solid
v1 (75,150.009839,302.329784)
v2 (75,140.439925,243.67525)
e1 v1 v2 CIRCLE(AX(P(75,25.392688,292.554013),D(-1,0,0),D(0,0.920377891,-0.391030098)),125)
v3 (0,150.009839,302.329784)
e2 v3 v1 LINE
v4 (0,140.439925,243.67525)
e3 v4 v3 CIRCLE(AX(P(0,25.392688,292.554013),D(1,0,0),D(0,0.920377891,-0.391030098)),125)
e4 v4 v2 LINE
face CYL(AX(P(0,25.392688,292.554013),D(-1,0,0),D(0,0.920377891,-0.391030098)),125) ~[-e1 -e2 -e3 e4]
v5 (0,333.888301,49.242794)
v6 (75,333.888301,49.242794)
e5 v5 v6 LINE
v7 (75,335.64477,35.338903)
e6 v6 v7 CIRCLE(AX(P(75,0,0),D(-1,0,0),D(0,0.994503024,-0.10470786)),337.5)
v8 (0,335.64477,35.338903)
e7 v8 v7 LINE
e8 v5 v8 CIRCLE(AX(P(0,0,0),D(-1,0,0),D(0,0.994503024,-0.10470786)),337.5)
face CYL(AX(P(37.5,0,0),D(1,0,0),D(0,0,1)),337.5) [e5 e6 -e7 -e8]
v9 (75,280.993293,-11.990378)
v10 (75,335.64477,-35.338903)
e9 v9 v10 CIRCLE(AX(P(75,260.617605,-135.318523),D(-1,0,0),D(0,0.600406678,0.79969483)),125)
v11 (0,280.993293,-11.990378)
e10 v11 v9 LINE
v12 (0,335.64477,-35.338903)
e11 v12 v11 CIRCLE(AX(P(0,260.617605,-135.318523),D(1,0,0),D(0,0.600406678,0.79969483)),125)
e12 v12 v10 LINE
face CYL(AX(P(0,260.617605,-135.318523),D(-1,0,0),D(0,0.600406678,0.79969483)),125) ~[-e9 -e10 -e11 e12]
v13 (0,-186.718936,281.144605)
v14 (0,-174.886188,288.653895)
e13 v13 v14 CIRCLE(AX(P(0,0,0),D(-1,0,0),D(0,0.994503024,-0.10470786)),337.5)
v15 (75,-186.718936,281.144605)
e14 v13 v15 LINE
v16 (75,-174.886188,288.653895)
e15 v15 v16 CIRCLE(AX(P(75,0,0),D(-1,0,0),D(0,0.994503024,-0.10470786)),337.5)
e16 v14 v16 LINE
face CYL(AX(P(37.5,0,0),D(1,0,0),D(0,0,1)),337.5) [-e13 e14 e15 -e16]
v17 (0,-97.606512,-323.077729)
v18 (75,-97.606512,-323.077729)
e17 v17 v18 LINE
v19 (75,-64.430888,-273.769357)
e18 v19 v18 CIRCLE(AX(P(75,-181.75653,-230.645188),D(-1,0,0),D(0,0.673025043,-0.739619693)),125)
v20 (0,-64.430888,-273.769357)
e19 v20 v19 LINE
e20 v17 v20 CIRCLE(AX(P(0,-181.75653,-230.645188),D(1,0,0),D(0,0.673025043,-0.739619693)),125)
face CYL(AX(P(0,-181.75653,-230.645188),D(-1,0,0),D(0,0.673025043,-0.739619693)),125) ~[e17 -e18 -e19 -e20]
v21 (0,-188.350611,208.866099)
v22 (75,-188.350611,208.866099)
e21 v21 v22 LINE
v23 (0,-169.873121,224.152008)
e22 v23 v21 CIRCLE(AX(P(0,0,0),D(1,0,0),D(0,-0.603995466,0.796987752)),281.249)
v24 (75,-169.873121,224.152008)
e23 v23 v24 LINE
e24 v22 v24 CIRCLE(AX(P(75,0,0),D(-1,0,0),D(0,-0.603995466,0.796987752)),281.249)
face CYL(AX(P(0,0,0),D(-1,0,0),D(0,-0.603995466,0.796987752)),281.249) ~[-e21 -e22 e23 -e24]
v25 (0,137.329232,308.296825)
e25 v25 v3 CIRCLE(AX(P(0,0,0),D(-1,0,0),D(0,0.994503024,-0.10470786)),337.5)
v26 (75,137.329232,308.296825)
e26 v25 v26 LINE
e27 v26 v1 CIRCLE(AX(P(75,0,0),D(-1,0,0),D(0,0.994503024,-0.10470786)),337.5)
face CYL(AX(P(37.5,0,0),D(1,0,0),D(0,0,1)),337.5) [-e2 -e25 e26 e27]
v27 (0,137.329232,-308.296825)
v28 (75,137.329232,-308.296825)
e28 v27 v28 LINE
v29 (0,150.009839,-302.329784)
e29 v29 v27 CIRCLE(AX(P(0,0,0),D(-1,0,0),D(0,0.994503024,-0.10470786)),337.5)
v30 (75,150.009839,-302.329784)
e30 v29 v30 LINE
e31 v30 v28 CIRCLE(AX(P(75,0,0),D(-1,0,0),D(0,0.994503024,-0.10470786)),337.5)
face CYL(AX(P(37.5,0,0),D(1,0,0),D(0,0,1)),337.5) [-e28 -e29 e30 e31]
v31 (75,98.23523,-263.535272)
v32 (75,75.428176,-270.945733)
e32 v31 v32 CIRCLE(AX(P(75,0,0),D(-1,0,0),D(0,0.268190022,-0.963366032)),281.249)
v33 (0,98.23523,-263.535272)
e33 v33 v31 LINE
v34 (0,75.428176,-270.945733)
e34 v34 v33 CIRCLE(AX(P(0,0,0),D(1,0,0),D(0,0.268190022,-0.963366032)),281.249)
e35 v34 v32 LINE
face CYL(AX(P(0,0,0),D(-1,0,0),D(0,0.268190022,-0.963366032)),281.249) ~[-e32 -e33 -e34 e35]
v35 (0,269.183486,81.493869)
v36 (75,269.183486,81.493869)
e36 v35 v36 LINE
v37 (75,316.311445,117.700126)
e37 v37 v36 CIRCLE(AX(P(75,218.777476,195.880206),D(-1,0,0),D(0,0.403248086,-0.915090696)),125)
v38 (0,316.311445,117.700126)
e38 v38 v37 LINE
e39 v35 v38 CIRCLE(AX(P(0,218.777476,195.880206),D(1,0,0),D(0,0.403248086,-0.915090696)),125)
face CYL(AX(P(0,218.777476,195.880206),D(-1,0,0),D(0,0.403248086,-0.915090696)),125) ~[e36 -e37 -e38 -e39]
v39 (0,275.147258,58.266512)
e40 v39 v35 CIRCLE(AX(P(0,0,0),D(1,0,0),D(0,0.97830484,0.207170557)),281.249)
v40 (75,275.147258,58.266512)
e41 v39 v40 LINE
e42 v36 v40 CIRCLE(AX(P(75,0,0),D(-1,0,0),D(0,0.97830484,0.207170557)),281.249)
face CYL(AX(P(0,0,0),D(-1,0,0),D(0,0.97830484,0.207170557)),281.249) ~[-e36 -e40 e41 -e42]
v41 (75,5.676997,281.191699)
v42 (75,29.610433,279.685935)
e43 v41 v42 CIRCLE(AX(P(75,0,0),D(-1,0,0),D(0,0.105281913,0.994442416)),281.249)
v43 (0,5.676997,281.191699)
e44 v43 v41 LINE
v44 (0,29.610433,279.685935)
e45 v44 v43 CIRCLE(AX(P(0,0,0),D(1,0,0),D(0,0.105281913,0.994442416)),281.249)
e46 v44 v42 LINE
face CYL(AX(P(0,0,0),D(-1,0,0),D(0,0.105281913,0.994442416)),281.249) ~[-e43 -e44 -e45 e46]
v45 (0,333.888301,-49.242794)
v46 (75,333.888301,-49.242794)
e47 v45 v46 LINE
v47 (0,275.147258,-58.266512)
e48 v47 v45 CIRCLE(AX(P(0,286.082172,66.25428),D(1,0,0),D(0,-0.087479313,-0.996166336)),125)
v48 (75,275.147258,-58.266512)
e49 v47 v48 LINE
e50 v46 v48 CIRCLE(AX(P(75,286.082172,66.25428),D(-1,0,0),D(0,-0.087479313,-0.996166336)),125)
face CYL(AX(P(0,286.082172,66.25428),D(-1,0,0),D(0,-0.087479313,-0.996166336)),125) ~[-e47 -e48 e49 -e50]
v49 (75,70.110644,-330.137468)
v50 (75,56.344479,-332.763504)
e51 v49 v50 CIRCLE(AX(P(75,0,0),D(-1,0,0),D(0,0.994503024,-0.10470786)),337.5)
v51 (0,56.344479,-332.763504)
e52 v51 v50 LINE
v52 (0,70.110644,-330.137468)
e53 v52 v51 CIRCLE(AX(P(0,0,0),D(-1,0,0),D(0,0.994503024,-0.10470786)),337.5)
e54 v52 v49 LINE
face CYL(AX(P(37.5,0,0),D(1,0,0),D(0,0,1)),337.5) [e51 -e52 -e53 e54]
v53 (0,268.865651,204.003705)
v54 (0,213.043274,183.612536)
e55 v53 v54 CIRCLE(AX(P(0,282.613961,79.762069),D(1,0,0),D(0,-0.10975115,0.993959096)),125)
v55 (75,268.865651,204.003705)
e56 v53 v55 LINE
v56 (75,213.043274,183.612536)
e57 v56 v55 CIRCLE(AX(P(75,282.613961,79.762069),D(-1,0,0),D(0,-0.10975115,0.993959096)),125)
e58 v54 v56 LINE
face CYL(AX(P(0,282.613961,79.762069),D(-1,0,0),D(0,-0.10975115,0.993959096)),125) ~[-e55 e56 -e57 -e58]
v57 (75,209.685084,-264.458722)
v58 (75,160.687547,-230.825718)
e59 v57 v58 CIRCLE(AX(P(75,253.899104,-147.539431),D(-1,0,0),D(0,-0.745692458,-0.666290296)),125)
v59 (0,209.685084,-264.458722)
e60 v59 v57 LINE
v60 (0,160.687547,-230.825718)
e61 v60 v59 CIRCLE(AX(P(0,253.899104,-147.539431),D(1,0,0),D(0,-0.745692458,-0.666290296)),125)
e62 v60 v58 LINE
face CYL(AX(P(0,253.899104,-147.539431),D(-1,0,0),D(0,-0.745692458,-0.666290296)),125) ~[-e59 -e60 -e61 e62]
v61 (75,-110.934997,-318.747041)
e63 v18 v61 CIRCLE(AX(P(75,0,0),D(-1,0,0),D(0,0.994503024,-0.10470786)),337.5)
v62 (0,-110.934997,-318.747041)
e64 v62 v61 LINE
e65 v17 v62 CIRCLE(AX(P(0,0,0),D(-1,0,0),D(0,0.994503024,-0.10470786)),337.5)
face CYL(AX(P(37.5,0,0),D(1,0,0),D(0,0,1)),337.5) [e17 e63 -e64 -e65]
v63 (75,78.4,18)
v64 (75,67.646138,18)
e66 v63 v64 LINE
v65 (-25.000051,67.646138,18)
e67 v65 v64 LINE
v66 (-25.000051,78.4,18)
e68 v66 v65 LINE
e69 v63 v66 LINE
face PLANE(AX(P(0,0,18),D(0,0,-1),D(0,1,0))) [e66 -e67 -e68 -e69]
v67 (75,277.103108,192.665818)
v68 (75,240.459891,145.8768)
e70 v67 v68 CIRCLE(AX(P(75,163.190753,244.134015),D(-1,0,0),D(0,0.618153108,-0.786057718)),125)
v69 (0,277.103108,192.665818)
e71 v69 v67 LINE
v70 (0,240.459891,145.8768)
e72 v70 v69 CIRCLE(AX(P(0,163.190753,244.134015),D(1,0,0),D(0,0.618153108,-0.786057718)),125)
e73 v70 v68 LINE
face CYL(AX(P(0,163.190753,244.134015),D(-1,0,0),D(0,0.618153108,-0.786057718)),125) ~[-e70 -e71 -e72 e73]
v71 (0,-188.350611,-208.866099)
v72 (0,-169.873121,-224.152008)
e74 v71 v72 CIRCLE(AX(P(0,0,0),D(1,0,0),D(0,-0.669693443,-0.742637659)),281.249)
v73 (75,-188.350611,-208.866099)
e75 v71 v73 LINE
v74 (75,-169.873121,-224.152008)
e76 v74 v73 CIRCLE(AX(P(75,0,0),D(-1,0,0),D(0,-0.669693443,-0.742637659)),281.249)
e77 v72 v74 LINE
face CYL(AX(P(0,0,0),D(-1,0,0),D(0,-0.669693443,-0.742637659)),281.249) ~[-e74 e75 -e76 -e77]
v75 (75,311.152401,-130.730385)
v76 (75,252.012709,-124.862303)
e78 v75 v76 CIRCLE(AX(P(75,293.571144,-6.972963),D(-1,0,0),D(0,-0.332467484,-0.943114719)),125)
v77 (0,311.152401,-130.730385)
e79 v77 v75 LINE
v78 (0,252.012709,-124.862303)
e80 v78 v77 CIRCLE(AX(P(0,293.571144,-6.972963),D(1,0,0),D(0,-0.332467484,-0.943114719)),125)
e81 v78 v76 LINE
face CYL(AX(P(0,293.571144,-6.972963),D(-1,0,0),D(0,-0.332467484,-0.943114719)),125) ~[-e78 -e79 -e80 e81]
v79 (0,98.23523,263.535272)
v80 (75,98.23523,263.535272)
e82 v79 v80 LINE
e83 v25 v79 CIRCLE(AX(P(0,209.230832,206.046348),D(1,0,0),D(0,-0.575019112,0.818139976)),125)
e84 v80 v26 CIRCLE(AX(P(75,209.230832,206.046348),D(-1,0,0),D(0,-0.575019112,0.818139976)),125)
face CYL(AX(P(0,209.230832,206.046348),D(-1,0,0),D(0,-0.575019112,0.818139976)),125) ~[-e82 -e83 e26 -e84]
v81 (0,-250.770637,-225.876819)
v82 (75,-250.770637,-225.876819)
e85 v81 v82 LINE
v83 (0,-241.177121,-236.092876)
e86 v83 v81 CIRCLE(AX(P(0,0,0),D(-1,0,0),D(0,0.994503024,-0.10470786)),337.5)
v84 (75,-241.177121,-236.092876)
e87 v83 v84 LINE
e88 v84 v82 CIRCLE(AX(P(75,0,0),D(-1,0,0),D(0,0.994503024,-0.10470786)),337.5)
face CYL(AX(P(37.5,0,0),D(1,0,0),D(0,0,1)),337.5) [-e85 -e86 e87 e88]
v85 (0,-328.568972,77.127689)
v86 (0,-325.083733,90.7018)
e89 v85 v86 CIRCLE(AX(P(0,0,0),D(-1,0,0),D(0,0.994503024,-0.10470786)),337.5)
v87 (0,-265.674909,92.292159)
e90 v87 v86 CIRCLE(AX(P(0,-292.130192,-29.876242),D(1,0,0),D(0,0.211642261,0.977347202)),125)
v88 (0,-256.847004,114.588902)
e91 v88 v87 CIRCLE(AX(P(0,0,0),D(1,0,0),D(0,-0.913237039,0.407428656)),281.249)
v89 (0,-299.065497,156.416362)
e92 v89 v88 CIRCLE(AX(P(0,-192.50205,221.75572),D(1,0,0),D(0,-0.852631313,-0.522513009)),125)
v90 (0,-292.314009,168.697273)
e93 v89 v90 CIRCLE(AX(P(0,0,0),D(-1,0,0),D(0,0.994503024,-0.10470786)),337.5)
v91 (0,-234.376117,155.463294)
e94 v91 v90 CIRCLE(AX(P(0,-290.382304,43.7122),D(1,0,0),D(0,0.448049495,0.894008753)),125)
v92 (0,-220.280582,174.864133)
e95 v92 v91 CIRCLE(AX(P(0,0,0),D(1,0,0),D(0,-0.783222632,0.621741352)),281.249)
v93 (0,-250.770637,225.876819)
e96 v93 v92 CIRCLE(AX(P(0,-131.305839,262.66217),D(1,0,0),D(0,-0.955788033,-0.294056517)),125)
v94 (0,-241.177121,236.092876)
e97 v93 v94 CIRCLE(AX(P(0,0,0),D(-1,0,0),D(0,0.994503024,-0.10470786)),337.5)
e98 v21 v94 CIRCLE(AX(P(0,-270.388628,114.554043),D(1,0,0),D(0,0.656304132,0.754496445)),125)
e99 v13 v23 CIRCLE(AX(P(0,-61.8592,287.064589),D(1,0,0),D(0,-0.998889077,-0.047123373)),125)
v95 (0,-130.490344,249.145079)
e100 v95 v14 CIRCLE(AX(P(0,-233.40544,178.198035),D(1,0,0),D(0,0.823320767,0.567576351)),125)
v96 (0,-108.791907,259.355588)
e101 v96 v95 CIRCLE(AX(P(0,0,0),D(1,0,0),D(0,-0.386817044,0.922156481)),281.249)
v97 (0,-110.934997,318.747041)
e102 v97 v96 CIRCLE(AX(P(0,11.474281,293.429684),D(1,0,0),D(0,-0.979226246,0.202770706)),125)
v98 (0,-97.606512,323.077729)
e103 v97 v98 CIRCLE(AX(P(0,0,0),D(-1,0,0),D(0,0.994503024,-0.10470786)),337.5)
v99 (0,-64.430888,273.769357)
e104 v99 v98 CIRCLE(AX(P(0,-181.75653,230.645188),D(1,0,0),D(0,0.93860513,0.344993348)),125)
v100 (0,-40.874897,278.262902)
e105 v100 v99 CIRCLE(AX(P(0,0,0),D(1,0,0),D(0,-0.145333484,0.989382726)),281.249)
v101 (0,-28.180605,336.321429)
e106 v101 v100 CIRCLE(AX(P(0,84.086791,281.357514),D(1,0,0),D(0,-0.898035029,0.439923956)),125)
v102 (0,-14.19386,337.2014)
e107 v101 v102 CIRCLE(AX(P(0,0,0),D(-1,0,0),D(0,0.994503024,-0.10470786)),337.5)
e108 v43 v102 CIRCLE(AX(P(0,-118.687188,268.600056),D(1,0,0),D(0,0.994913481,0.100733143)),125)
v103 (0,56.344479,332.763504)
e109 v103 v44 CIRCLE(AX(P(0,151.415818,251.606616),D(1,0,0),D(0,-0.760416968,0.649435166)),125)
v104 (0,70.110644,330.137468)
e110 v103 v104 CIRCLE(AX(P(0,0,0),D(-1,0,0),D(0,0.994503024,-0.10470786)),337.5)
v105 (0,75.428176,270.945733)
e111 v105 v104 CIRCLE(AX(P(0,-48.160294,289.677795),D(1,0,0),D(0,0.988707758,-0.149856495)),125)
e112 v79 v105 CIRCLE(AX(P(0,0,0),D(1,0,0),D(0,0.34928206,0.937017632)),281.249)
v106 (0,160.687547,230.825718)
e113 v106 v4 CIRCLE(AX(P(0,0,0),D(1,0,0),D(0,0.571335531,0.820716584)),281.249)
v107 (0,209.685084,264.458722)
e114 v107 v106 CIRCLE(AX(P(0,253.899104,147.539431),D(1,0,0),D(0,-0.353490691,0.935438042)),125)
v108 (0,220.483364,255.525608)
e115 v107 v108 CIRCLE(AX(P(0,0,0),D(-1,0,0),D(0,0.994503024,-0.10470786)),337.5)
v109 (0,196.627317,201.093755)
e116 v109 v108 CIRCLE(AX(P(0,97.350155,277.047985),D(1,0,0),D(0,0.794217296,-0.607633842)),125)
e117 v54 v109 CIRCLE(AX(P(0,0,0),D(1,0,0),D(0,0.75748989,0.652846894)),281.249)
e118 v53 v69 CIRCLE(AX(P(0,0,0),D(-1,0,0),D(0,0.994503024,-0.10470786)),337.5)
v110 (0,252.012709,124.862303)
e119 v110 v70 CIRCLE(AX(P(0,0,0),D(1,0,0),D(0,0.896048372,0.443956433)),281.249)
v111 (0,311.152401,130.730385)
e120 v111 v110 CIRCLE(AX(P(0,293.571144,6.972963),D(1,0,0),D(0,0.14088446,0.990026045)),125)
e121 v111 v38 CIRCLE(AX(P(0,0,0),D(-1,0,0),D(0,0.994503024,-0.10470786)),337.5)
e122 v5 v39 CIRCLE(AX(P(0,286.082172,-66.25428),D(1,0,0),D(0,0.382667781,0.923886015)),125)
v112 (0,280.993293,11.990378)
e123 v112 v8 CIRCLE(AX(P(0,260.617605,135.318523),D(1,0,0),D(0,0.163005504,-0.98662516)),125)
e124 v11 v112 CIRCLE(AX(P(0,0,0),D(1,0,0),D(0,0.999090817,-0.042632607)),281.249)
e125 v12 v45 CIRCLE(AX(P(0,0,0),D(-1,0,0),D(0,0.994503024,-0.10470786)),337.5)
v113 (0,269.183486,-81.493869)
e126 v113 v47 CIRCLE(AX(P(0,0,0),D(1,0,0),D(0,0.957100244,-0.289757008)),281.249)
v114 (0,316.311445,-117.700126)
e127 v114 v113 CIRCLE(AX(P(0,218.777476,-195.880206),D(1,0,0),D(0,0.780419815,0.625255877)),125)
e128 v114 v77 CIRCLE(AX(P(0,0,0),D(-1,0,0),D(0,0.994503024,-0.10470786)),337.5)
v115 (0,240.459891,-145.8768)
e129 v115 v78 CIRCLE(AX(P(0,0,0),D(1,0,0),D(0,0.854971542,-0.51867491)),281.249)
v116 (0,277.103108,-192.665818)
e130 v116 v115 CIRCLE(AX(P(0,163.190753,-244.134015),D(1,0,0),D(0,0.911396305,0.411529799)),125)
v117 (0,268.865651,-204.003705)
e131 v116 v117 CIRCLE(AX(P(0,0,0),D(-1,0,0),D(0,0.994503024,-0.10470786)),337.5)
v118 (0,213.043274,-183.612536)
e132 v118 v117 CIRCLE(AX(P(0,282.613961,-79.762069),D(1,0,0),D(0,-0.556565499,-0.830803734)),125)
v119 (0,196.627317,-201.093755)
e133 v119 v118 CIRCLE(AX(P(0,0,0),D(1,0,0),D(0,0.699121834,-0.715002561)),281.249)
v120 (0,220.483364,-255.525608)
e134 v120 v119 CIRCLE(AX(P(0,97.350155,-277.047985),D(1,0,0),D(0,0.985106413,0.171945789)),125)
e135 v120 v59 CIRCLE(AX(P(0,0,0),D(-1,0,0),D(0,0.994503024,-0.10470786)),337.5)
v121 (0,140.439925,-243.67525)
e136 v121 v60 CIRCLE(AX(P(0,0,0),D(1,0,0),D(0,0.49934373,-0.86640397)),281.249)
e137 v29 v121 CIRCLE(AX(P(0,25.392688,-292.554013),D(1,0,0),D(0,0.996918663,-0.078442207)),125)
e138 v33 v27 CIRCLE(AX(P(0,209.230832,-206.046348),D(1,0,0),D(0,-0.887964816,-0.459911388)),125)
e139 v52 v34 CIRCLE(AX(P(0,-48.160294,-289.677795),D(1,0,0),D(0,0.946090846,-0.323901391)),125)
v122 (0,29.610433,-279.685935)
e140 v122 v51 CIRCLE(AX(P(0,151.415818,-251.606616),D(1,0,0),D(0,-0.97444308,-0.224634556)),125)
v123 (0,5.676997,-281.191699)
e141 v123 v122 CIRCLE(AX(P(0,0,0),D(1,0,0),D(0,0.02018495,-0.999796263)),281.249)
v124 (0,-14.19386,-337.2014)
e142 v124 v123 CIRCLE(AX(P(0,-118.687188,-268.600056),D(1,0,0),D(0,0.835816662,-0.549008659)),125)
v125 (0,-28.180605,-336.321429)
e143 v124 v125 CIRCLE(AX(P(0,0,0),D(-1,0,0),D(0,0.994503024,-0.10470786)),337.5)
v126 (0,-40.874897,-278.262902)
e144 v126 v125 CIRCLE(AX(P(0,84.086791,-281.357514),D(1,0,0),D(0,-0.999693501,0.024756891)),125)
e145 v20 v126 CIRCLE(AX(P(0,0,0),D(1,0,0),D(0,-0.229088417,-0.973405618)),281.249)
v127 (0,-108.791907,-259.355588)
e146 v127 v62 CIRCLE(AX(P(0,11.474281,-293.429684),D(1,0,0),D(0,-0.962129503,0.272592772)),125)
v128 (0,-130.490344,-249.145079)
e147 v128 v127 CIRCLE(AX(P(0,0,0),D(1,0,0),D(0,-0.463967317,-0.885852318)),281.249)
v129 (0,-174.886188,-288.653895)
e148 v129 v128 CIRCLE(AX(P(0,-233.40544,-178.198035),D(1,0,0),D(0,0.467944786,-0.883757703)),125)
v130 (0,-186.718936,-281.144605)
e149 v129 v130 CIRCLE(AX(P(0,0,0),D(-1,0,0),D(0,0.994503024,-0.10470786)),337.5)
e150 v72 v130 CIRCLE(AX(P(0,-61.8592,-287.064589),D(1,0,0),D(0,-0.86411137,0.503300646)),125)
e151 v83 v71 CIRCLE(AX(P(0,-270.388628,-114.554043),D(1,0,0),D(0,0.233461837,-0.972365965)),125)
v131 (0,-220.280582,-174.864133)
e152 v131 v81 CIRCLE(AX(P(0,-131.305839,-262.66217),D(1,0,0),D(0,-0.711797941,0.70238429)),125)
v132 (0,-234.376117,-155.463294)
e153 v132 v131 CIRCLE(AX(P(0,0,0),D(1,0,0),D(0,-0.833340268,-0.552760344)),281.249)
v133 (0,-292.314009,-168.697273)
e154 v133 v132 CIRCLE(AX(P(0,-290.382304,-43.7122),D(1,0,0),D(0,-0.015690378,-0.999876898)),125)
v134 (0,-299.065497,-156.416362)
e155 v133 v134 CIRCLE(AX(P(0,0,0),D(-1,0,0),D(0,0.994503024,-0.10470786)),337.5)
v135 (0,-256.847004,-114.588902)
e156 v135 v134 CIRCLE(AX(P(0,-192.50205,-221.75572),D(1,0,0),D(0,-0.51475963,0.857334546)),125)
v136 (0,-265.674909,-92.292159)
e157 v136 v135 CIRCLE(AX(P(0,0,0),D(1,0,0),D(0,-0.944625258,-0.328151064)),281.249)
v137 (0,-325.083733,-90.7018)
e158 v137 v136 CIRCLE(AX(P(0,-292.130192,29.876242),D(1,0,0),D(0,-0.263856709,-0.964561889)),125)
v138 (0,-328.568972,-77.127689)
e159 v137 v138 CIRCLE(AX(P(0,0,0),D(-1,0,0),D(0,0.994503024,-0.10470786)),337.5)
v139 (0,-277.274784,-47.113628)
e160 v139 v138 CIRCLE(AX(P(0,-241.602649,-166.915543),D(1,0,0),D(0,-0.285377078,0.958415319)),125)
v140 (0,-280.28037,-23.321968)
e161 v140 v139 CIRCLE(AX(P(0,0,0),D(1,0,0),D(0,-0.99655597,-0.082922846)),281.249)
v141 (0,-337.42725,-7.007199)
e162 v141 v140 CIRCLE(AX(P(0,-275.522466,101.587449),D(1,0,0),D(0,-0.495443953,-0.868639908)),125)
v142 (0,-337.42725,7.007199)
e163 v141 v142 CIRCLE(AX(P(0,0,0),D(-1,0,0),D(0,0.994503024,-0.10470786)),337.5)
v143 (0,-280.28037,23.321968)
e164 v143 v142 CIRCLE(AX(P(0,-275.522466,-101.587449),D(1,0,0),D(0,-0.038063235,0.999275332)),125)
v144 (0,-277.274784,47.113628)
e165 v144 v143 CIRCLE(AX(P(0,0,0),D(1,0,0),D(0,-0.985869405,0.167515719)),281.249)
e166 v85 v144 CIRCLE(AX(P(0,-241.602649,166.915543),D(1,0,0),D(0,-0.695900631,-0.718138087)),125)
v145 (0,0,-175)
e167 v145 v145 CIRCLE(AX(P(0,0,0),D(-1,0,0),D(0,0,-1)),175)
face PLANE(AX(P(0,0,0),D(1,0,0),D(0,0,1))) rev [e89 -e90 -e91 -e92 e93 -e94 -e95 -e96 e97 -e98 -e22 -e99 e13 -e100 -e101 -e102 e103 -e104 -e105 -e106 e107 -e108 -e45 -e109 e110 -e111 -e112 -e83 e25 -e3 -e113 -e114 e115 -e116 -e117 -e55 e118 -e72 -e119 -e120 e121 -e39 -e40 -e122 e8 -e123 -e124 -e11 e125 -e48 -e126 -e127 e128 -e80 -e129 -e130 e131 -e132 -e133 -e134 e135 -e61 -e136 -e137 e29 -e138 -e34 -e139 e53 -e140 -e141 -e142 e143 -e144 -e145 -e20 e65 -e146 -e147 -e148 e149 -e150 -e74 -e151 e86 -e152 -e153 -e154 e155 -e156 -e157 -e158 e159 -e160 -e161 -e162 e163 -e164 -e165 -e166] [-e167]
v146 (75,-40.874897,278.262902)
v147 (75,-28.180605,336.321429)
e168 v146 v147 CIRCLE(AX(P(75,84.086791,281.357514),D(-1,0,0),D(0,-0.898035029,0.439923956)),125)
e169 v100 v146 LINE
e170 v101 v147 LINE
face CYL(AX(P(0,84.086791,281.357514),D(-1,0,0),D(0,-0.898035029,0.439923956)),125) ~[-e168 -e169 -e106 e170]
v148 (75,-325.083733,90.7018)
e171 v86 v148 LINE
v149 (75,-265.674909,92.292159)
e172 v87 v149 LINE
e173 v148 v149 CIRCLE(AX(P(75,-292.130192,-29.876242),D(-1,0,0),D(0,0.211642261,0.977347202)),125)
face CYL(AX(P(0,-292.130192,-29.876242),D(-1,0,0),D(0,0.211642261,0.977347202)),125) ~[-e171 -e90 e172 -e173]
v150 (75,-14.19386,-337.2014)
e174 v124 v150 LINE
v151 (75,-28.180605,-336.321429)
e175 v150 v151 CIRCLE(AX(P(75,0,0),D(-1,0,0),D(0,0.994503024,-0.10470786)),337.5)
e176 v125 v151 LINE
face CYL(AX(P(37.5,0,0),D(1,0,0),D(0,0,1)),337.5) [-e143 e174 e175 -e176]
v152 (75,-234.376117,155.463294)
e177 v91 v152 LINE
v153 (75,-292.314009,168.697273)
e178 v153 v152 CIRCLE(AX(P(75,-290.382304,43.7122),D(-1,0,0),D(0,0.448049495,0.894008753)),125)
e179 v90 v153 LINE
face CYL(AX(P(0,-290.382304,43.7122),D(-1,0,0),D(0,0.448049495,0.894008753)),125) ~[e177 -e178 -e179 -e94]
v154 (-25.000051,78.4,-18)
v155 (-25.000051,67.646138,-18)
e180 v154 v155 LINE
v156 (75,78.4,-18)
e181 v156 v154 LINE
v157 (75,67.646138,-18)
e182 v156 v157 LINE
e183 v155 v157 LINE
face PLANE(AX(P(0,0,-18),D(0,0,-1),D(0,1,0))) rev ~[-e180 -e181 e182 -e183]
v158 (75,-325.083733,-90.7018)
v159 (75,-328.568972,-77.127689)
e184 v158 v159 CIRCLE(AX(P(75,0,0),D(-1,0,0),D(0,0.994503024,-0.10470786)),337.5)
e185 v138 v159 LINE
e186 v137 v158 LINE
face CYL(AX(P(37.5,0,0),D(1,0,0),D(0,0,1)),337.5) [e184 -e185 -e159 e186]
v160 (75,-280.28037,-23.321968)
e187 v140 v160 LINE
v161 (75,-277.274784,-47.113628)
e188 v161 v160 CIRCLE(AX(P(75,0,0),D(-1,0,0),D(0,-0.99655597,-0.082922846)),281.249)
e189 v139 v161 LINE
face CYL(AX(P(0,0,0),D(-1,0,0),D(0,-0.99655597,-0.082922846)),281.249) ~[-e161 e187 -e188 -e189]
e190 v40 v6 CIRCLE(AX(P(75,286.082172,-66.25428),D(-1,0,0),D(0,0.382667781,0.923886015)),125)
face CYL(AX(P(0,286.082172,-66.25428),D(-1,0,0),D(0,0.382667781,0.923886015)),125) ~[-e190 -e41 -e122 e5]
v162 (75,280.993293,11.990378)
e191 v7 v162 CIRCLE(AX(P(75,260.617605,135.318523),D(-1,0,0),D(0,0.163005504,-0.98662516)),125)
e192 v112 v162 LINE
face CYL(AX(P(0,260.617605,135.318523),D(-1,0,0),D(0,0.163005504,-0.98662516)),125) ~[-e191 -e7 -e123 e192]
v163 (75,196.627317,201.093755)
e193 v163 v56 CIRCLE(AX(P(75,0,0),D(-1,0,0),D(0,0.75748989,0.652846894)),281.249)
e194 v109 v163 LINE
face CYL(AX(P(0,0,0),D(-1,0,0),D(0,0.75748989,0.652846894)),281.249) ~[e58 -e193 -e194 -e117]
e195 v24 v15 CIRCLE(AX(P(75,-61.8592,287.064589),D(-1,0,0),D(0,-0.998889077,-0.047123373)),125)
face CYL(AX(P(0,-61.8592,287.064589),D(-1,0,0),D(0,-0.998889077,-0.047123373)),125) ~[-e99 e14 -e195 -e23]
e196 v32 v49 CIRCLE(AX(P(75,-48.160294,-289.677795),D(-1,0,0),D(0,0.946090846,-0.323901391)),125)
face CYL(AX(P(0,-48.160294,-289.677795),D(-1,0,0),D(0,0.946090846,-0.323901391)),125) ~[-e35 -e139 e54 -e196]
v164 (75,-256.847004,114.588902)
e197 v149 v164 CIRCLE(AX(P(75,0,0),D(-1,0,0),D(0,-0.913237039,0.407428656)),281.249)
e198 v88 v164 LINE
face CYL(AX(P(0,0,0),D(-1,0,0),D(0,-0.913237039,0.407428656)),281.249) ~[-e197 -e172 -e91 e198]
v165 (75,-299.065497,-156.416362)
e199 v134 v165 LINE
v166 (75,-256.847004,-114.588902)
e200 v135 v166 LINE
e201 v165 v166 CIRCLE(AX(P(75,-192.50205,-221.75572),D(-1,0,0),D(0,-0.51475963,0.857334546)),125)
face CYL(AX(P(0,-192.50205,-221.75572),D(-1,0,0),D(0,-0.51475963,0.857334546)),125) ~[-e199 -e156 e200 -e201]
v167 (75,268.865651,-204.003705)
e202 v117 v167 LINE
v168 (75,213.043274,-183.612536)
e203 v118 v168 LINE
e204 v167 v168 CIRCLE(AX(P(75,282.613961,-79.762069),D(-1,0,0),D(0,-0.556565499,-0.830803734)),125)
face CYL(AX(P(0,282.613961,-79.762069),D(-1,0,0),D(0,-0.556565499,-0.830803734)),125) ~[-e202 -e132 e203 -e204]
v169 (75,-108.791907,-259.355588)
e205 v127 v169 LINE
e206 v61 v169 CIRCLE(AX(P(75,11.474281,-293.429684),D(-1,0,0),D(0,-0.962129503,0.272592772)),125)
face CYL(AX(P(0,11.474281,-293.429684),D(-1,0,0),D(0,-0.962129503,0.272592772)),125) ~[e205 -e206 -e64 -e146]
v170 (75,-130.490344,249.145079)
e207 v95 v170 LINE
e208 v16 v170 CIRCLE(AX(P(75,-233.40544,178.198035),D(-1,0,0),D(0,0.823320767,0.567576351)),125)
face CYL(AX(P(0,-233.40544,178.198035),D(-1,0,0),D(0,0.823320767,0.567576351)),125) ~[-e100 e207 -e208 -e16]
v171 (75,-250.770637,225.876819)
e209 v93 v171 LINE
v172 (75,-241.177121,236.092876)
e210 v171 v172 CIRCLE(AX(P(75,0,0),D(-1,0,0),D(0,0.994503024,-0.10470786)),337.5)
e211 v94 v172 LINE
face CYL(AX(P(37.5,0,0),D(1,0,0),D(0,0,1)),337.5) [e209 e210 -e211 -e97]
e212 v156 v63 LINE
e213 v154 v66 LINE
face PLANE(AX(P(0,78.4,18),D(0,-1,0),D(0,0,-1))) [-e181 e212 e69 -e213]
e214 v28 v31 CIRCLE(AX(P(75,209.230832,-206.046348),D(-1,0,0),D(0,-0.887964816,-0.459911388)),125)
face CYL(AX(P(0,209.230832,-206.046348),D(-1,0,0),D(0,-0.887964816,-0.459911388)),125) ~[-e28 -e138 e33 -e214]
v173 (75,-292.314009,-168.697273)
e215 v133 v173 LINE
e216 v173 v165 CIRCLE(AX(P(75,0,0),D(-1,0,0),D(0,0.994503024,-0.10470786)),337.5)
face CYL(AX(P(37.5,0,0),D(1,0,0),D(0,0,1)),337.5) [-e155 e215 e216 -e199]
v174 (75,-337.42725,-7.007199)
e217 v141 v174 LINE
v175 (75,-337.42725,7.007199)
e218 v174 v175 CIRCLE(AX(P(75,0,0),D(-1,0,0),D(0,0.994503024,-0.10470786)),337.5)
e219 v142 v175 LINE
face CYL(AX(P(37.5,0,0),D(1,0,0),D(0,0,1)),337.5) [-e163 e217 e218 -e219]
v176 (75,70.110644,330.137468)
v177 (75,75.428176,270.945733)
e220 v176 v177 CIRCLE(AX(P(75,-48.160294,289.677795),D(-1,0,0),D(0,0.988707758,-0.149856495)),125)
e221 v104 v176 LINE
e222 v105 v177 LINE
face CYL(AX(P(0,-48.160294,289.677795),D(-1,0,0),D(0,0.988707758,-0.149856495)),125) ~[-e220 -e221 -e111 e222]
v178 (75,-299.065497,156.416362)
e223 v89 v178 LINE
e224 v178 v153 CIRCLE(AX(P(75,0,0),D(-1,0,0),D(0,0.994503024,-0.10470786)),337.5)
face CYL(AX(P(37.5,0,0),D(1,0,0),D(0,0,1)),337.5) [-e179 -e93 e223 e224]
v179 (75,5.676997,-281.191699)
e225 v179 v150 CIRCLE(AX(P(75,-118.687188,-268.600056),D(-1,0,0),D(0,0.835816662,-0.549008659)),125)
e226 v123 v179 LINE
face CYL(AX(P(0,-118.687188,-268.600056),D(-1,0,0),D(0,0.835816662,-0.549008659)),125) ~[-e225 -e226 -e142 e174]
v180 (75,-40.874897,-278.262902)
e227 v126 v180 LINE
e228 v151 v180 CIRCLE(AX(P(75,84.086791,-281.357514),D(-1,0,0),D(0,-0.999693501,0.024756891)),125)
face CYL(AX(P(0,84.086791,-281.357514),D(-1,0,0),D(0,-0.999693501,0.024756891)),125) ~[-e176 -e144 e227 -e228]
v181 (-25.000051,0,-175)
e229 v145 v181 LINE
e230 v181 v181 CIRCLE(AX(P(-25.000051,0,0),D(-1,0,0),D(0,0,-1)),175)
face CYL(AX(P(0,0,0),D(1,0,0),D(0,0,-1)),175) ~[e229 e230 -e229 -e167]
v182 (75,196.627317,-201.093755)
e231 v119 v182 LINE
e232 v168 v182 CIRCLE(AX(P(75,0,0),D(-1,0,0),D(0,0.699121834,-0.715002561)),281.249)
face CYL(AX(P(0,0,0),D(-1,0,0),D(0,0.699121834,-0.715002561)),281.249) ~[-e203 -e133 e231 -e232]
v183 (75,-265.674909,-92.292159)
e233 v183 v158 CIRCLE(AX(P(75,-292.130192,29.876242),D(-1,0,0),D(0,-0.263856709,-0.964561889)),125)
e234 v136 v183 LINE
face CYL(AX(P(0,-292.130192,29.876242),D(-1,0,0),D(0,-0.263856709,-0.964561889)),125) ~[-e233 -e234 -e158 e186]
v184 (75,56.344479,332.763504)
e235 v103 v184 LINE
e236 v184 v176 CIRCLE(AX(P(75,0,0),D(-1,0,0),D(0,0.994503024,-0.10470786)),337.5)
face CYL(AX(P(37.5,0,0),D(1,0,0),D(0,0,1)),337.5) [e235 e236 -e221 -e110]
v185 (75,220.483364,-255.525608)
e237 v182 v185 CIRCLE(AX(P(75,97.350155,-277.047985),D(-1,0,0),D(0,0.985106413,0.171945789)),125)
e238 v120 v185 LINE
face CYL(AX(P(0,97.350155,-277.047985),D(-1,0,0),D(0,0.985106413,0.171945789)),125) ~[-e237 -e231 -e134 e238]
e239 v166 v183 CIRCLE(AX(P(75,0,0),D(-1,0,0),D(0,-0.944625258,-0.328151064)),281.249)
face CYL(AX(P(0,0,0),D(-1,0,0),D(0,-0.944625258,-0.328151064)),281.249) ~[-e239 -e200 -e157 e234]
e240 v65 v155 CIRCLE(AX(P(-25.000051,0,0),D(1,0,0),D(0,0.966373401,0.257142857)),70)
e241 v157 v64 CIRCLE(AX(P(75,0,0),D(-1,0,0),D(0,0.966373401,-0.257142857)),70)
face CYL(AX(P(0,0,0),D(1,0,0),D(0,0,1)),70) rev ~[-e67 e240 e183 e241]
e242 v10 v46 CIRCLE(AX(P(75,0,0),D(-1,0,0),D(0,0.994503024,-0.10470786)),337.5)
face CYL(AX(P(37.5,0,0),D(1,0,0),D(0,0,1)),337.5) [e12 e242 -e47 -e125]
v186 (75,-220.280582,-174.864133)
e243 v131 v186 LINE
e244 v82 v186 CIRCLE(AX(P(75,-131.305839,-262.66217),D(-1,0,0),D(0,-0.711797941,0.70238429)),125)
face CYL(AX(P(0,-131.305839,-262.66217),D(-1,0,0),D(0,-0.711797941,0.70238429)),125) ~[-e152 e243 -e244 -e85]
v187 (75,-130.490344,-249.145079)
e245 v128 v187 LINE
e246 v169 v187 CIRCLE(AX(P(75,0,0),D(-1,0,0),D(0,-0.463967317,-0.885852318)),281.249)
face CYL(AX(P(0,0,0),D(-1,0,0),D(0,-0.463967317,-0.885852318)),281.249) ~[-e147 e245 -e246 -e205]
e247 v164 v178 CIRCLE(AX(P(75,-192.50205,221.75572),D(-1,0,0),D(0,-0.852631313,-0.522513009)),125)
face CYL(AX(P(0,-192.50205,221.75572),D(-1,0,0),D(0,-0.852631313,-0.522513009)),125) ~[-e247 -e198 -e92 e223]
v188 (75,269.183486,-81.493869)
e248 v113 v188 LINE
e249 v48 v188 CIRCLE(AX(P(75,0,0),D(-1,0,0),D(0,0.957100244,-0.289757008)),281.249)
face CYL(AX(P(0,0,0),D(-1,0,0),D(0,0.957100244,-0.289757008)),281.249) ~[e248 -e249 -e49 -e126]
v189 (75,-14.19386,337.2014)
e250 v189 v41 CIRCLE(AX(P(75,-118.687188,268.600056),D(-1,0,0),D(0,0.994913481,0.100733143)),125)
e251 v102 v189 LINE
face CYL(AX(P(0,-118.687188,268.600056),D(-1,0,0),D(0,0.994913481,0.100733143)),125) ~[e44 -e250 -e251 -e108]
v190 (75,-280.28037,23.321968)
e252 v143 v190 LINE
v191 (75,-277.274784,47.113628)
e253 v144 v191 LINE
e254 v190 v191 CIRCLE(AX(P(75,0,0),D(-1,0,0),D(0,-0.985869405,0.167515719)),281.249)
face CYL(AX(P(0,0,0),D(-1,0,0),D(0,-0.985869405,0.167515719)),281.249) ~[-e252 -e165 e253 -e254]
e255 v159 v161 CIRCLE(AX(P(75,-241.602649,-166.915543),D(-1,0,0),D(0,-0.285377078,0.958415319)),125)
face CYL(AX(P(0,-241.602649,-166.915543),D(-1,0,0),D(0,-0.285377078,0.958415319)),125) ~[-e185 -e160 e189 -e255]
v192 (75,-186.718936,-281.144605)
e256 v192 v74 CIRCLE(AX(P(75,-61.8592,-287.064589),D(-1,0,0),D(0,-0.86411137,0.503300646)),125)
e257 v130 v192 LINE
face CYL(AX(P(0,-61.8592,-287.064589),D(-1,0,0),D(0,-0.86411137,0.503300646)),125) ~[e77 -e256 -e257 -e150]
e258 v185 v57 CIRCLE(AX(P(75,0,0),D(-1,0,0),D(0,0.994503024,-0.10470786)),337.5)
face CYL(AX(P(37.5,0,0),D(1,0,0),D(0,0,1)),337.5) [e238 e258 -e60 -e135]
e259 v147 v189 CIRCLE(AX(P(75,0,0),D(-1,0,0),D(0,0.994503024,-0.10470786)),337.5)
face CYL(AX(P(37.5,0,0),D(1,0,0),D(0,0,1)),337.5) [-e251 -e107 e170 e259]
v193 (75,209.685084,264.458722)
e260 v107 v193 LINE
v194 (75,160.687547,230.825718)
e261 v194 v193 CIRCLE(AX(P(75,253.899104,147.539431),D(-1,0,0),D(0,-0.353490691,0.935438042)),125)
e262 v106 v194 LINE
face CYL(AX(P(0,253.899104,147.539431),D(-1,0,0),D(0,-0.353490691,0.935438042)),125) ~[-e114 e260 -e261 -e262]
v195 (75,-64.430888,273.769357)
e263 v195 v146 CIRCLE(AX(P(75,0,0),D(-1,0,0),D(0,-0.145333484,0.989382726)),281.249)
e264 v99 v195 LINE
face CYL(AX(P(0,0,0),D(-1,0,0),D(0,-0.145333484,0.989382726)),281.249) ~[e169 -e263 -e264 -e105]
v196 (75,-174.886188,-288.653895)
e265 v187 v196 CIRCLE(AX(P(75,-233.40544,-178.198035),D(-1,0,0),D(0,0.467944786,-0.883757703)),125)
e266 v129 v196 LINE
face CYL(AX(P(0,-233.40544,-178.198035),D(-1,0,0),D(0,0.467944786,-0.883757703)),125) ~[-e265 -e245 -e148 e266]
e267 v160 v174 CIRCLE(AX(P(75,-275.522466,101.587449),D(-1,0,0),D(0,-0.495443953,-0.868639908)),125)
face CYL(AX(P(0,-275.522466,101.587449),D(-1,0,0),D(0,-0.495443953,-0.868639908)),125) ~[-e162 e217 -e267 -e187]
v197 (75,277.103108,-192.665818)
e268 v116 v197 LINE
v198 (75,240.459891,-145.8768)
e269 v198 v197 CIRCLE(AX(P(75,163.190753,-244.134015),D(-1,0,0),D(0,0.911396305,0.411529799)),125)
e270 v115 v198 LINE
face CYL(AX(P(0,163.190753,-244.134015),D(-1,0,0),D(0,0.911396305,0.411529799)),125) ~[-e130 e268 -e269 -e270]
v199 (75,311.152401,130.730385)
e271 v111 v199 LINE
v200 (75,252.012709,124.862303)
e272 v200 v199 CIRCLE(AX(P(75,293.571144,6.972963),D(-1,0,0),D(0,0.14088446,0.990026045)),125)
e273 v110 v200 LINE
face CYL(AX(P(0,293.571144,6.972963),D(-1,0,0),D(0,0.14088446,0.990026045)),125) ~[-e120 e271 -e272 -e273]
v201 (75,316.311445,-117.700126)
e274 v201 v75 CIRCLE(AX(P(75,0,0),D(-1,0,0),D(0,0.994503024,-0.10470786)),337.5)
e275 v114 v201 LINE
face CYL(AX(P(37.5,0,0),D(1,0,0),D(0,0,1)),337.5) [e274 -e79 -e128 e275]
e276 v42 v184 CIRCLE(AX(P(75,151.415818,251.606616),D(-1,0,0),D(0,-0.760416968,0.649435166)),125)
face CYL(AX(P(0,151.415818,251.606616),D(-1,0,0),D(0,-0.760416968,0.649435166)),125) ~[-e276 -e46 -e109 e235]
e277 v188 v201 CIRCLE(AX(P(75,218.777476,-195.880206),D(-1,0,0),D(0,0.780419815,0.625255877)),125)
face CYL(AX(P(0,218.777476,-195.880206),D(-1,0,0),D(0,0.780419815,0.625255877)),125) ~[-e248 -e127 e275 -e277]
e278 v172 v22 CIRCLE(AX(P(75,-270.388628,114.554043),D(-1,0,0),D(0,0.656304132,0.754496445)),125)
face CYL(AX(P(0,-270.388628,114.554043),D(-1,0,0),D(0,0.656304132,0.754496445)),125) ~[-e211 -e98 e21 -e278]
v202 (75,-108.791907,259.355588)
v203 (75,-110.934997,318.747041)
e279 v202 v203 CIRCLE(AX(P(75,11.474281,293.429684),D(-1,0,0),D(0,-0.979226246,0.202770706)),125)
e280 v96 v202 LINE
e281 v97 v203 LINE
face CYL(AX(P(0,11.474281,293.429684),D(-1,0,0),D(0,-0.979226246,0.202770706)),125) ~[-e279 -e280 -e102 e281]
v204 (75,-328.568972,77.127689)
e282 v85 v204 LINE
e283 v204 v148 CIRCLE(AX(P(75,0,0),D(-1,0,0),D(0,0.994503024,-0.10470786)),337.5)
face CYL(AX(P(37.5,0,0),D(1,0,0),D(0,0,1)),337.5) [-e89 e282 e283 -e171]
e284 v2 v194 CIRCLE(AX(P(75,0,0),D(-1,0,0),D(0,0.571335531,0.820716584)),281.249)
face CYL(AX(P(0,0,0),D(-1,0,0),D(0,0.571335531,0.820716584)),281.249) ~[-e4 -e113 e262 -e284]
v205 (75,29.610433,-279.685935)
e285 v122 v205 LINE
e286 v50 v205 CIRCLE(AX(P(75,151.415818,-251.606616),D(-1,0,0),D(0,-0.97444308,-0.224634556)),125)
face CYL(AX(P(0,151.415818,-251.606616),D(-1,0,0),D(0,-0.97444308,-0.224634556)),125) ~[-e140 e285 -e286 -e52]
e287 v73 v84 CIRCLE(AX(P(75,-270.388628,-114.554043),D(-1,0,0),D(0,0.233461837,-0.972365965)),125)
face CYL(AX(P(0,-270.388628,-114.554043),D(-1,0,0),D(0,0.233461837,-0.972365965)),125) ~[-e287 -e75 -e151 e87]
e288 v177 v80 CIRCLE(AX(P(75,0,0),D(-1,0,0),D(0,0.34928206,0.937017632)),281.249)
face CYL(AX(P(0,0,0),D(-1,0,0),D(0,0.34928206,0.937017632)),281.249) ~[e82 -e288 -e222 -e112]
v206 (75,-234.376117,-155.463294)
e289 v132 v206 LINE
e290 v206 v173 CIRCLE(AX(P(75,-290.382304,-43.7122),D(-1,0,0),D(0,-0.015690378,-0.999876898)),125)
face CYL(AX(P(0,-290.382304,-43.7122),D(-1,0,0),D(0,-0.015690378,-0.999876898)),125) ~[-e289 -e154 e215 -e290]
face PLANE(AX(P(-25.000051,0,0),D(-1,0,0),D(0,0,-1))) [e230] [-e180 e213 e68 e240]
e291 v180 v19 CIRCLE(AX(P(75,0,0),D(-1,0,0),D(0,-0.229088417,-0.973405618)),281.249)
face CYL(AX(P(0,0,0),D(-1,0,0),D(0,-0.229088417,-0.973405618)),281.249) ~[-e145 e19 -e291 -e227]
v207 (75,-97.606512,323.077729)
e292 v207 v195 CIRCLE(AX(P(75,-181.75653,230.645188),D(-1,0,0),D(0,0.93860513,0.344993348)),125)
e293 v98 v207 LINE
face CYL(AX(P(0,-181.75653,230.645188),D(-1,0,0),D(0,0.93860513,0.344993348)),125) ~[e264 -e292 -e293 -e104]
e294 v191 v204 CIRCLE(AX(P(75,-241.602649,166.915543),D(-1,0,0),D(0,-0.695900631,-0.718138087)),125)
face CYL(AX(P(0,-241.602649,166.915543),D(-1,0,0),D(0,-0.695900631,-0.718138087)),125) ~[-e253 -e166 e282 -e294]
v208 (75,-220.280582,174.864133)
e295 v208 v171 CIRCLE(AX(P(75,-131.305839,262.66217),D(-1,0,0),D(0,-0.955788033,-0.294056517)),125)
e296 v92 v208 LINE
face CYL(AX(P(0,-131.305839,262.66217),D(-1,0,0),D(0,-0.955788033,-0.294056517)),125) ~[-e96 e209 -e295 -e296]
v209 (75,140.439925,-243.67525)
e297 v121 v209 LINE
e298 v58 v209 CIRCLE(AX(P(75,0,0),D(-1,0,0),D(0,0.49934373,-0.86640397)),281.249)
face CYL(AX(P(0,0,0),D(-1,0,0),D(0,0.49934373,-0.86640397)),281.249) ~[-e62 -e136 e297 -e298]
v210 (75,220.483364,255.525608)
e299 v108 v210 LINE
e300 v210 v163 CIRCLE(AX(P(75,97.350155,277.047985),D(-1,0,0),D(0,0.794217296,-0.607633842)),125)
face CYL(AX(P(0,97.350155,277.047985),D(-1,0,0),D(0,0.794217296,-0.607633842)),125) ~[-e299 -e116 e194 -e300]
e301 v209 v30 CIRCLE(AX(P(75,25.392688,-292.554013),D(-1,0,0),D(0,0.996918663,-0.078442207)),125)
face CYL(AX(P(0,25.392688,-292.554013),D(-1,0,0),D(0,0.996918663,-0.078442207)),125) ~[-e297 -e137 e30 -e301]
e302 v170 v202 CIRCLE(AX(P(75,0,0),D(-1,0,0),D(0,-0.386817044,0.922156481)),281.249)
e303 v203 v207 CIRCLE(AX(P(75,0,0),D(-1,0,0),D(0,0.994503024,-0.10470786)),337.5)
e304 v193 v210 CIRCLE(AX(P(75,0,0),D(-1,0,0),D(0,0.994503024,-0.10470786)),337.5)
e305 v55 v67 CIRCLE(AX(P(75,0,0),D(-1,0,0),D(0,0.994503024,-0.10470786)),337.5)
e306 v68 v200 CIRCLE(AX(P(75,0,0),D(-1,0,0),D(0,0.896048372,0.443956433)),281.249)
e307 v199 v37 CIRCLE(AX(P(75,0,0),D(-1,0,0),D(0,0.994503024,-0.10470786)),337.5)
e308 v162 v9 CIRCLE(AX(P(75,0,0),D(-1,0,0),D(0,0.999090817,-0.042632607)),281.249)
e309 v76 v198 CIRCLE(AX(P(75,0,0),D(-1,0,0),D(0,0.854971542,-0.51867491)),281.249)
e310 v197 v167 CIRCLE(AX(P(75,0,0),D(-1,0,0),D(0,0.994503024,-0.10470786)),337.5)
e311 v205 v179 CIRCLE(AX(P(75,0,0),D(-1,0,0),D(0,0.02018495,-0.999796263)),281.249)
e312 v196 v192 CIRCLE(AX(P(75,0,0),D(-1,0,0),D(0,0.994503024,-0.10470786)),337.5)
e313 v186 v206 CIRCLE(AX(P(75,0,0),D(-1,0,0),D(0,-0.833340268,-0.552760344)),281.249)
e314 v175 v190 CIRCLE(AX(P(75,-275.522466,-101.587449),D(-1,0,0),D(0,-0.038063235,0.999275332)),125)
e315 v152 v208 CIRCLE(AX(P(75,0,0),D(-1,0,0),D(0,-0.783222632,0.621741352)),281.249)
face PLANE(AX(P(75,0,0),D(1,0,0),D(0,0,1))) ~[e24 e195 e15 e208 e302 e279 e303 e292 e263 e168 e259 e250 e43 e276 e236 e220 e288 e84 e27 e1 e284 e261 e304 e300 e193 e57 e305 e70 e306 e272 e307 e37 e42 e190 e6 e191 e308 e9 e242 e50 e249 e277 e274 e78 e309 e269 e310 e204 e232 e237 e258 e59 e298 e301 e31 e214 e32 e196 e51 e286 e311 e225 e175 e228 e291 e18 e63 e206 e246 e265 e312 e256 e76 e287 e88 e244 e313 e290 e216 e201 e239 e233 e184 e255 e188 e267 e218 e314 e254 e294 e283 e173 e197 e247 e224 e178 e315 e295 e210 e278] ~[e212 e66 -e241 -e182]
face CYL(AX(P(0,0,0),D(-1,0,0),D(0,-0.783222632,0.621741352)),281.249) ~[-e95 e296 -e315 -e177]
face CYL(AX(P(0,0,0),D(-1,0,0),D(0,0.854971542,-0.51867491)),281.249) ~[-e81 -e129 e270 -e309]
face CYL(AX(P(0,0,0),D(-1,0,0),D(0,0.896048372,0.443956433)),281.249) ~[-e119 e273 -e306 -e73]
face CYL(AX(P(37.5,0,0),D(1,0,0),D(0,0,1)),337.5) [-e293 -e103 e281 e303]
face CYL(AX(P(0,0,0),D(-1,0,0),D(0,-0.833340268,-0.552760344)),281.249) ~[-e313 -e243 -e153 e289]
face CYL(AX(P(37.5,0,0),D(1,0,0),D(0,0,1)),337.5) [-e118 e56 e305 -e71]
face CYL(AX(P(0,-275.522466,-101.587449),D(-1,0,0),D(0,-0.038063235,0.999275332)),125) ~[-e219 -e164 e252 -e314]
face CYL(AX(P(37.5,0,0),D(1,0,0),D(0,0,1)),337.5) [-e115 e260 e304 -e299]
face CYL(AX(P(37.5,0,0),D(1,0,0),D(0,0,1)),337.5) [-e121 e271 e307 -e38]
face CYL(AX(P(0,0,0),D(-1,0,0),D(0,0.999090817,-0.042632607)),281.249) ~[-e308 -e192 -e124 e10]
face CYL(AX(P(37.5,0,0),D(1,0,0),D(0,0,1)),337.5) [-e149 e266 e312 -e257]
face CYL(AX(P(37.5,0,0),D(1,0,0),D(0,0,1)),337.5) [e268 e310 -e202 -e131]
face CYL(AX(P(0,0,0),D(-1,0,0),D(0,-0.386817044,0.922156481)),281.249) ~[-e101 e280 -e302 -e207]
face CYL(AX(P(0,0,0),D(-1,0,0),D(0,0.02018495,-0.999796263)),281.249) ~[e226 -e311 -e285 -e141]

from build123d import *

# Parameters (mm, degrees)
BASPROSKE_W      = 75
BASPROSKE_H      = 337.5
TOOTHCUT_DEPTH   = 484.153702252
TEETHCUTS_COUNT  = 25
TEETHCUTS_ANGLE  = 345.6
HUBNEAONESKE_R   = 175
HUBNEARONE_DEPTH = 25.0000508
BORSKE_R         = 70
BORE_DEPTH       = 100.0000508
KEYSKE_W         = 36
KEYSKE_H         = 78.4
KEYWAY_DEPTH     = 100.0000508


with BuildPart() as part:
    # BasProSke → Base-Revolve (revolve)
    with BuildSketch(Plane(origin=(0, 0, 0), x_dir=(1, 0, 0), z_dir=(0, 1, 0)), mode=Mode.PRIVATE) as base_revolve_sk:
        with Locations((37.5, 168.75)):
            Rectangle(BASPROSKE_W, BASPROSKE_H)
    revolve(base_revolve_sk.sketch.rotate(Axis((-10, 0, 0), (1, 0, 0)), 180), axis=Axis((-10, 0, 0), (1, 0, 0)))

    # TooCutSke → ToothCut (cut, through all)
    with BuildSketch(Plane(origin=(0, 0, 0), x_dir=(0, 0, -1), z_dir=(1, 0, 0))):
        with BuildLine():
            ThreePointArc((11.990378159, 280.993293216), (0, 281.249), (-11.990378159, 280.993293216))
            ThreePointArc((-11.990378159, 280.993293216), (-20.375281475, 309.740422738), (-35.356669359, 335.668439948))
            ThreePointArc((-35.356669359, 335.668439948), (0, 337.5254), (35.356669359, 335.668439948))
            ThreePointArc((35.356669359, 335.668439948), (20.375281475, 309.740422738), (11.990378159, 280.993293216))
        make_face()
    toothcut = extrude(amount=TOOTHCUT_DEPTH, mode=Mode.SUBTRACT)

    # TeethCuts: ToothCut ×25 about axis
    teethcuts_axis = Axis((-10, 0, 0), (1, 0, 0))
    for i in range(1, TEETHCUTS_COUNT):
        add(toothcut.rotate(teethcuts_axis, i * TEETHCUTS_ANGLE / (TEETHCUTS_COUNT - 1)), mode=Mode.SUBTRACT)

    # HubNeaOneSke → HubNearOne (add)
    with BuildSketch(Plane.ZY):
        with Locations(Location((0, 0, 0), (0, 0, 180))):
            Circle(HUBNEAONESKE_R)
    extrude(amount=HUBNEARONE_DEPTH)

    # BorSke → Bore (cut, symmetric)
    with BuildSketch(Plane(origin=(0, 0, 0), x_dir=(0, 0, -1), z_dir=(1, 0, 0))):
        with Locations(Location((0, 0, 0), (0, 0, 180))):
            Circle(BORSKE_R)
    extrude(amount=BORE_DEPTH, both=True, mode=Mode.SUBTRACT)

    # KeySke → Keyway (cut, symmetric)
    with BuildSketch(Plane(origin=(0, 0, 0), x_dir=(0, 0, -1), z_dir=(1, 0, 0))):
        with Locations((0, 39.2)):
            Rectangle(KEYSKE_W, KEYSKE_H)
    extrude(amount=KEYWAY_DEPTH, both=True, mode=Mode.SUBTRACT)


solid = part.part
